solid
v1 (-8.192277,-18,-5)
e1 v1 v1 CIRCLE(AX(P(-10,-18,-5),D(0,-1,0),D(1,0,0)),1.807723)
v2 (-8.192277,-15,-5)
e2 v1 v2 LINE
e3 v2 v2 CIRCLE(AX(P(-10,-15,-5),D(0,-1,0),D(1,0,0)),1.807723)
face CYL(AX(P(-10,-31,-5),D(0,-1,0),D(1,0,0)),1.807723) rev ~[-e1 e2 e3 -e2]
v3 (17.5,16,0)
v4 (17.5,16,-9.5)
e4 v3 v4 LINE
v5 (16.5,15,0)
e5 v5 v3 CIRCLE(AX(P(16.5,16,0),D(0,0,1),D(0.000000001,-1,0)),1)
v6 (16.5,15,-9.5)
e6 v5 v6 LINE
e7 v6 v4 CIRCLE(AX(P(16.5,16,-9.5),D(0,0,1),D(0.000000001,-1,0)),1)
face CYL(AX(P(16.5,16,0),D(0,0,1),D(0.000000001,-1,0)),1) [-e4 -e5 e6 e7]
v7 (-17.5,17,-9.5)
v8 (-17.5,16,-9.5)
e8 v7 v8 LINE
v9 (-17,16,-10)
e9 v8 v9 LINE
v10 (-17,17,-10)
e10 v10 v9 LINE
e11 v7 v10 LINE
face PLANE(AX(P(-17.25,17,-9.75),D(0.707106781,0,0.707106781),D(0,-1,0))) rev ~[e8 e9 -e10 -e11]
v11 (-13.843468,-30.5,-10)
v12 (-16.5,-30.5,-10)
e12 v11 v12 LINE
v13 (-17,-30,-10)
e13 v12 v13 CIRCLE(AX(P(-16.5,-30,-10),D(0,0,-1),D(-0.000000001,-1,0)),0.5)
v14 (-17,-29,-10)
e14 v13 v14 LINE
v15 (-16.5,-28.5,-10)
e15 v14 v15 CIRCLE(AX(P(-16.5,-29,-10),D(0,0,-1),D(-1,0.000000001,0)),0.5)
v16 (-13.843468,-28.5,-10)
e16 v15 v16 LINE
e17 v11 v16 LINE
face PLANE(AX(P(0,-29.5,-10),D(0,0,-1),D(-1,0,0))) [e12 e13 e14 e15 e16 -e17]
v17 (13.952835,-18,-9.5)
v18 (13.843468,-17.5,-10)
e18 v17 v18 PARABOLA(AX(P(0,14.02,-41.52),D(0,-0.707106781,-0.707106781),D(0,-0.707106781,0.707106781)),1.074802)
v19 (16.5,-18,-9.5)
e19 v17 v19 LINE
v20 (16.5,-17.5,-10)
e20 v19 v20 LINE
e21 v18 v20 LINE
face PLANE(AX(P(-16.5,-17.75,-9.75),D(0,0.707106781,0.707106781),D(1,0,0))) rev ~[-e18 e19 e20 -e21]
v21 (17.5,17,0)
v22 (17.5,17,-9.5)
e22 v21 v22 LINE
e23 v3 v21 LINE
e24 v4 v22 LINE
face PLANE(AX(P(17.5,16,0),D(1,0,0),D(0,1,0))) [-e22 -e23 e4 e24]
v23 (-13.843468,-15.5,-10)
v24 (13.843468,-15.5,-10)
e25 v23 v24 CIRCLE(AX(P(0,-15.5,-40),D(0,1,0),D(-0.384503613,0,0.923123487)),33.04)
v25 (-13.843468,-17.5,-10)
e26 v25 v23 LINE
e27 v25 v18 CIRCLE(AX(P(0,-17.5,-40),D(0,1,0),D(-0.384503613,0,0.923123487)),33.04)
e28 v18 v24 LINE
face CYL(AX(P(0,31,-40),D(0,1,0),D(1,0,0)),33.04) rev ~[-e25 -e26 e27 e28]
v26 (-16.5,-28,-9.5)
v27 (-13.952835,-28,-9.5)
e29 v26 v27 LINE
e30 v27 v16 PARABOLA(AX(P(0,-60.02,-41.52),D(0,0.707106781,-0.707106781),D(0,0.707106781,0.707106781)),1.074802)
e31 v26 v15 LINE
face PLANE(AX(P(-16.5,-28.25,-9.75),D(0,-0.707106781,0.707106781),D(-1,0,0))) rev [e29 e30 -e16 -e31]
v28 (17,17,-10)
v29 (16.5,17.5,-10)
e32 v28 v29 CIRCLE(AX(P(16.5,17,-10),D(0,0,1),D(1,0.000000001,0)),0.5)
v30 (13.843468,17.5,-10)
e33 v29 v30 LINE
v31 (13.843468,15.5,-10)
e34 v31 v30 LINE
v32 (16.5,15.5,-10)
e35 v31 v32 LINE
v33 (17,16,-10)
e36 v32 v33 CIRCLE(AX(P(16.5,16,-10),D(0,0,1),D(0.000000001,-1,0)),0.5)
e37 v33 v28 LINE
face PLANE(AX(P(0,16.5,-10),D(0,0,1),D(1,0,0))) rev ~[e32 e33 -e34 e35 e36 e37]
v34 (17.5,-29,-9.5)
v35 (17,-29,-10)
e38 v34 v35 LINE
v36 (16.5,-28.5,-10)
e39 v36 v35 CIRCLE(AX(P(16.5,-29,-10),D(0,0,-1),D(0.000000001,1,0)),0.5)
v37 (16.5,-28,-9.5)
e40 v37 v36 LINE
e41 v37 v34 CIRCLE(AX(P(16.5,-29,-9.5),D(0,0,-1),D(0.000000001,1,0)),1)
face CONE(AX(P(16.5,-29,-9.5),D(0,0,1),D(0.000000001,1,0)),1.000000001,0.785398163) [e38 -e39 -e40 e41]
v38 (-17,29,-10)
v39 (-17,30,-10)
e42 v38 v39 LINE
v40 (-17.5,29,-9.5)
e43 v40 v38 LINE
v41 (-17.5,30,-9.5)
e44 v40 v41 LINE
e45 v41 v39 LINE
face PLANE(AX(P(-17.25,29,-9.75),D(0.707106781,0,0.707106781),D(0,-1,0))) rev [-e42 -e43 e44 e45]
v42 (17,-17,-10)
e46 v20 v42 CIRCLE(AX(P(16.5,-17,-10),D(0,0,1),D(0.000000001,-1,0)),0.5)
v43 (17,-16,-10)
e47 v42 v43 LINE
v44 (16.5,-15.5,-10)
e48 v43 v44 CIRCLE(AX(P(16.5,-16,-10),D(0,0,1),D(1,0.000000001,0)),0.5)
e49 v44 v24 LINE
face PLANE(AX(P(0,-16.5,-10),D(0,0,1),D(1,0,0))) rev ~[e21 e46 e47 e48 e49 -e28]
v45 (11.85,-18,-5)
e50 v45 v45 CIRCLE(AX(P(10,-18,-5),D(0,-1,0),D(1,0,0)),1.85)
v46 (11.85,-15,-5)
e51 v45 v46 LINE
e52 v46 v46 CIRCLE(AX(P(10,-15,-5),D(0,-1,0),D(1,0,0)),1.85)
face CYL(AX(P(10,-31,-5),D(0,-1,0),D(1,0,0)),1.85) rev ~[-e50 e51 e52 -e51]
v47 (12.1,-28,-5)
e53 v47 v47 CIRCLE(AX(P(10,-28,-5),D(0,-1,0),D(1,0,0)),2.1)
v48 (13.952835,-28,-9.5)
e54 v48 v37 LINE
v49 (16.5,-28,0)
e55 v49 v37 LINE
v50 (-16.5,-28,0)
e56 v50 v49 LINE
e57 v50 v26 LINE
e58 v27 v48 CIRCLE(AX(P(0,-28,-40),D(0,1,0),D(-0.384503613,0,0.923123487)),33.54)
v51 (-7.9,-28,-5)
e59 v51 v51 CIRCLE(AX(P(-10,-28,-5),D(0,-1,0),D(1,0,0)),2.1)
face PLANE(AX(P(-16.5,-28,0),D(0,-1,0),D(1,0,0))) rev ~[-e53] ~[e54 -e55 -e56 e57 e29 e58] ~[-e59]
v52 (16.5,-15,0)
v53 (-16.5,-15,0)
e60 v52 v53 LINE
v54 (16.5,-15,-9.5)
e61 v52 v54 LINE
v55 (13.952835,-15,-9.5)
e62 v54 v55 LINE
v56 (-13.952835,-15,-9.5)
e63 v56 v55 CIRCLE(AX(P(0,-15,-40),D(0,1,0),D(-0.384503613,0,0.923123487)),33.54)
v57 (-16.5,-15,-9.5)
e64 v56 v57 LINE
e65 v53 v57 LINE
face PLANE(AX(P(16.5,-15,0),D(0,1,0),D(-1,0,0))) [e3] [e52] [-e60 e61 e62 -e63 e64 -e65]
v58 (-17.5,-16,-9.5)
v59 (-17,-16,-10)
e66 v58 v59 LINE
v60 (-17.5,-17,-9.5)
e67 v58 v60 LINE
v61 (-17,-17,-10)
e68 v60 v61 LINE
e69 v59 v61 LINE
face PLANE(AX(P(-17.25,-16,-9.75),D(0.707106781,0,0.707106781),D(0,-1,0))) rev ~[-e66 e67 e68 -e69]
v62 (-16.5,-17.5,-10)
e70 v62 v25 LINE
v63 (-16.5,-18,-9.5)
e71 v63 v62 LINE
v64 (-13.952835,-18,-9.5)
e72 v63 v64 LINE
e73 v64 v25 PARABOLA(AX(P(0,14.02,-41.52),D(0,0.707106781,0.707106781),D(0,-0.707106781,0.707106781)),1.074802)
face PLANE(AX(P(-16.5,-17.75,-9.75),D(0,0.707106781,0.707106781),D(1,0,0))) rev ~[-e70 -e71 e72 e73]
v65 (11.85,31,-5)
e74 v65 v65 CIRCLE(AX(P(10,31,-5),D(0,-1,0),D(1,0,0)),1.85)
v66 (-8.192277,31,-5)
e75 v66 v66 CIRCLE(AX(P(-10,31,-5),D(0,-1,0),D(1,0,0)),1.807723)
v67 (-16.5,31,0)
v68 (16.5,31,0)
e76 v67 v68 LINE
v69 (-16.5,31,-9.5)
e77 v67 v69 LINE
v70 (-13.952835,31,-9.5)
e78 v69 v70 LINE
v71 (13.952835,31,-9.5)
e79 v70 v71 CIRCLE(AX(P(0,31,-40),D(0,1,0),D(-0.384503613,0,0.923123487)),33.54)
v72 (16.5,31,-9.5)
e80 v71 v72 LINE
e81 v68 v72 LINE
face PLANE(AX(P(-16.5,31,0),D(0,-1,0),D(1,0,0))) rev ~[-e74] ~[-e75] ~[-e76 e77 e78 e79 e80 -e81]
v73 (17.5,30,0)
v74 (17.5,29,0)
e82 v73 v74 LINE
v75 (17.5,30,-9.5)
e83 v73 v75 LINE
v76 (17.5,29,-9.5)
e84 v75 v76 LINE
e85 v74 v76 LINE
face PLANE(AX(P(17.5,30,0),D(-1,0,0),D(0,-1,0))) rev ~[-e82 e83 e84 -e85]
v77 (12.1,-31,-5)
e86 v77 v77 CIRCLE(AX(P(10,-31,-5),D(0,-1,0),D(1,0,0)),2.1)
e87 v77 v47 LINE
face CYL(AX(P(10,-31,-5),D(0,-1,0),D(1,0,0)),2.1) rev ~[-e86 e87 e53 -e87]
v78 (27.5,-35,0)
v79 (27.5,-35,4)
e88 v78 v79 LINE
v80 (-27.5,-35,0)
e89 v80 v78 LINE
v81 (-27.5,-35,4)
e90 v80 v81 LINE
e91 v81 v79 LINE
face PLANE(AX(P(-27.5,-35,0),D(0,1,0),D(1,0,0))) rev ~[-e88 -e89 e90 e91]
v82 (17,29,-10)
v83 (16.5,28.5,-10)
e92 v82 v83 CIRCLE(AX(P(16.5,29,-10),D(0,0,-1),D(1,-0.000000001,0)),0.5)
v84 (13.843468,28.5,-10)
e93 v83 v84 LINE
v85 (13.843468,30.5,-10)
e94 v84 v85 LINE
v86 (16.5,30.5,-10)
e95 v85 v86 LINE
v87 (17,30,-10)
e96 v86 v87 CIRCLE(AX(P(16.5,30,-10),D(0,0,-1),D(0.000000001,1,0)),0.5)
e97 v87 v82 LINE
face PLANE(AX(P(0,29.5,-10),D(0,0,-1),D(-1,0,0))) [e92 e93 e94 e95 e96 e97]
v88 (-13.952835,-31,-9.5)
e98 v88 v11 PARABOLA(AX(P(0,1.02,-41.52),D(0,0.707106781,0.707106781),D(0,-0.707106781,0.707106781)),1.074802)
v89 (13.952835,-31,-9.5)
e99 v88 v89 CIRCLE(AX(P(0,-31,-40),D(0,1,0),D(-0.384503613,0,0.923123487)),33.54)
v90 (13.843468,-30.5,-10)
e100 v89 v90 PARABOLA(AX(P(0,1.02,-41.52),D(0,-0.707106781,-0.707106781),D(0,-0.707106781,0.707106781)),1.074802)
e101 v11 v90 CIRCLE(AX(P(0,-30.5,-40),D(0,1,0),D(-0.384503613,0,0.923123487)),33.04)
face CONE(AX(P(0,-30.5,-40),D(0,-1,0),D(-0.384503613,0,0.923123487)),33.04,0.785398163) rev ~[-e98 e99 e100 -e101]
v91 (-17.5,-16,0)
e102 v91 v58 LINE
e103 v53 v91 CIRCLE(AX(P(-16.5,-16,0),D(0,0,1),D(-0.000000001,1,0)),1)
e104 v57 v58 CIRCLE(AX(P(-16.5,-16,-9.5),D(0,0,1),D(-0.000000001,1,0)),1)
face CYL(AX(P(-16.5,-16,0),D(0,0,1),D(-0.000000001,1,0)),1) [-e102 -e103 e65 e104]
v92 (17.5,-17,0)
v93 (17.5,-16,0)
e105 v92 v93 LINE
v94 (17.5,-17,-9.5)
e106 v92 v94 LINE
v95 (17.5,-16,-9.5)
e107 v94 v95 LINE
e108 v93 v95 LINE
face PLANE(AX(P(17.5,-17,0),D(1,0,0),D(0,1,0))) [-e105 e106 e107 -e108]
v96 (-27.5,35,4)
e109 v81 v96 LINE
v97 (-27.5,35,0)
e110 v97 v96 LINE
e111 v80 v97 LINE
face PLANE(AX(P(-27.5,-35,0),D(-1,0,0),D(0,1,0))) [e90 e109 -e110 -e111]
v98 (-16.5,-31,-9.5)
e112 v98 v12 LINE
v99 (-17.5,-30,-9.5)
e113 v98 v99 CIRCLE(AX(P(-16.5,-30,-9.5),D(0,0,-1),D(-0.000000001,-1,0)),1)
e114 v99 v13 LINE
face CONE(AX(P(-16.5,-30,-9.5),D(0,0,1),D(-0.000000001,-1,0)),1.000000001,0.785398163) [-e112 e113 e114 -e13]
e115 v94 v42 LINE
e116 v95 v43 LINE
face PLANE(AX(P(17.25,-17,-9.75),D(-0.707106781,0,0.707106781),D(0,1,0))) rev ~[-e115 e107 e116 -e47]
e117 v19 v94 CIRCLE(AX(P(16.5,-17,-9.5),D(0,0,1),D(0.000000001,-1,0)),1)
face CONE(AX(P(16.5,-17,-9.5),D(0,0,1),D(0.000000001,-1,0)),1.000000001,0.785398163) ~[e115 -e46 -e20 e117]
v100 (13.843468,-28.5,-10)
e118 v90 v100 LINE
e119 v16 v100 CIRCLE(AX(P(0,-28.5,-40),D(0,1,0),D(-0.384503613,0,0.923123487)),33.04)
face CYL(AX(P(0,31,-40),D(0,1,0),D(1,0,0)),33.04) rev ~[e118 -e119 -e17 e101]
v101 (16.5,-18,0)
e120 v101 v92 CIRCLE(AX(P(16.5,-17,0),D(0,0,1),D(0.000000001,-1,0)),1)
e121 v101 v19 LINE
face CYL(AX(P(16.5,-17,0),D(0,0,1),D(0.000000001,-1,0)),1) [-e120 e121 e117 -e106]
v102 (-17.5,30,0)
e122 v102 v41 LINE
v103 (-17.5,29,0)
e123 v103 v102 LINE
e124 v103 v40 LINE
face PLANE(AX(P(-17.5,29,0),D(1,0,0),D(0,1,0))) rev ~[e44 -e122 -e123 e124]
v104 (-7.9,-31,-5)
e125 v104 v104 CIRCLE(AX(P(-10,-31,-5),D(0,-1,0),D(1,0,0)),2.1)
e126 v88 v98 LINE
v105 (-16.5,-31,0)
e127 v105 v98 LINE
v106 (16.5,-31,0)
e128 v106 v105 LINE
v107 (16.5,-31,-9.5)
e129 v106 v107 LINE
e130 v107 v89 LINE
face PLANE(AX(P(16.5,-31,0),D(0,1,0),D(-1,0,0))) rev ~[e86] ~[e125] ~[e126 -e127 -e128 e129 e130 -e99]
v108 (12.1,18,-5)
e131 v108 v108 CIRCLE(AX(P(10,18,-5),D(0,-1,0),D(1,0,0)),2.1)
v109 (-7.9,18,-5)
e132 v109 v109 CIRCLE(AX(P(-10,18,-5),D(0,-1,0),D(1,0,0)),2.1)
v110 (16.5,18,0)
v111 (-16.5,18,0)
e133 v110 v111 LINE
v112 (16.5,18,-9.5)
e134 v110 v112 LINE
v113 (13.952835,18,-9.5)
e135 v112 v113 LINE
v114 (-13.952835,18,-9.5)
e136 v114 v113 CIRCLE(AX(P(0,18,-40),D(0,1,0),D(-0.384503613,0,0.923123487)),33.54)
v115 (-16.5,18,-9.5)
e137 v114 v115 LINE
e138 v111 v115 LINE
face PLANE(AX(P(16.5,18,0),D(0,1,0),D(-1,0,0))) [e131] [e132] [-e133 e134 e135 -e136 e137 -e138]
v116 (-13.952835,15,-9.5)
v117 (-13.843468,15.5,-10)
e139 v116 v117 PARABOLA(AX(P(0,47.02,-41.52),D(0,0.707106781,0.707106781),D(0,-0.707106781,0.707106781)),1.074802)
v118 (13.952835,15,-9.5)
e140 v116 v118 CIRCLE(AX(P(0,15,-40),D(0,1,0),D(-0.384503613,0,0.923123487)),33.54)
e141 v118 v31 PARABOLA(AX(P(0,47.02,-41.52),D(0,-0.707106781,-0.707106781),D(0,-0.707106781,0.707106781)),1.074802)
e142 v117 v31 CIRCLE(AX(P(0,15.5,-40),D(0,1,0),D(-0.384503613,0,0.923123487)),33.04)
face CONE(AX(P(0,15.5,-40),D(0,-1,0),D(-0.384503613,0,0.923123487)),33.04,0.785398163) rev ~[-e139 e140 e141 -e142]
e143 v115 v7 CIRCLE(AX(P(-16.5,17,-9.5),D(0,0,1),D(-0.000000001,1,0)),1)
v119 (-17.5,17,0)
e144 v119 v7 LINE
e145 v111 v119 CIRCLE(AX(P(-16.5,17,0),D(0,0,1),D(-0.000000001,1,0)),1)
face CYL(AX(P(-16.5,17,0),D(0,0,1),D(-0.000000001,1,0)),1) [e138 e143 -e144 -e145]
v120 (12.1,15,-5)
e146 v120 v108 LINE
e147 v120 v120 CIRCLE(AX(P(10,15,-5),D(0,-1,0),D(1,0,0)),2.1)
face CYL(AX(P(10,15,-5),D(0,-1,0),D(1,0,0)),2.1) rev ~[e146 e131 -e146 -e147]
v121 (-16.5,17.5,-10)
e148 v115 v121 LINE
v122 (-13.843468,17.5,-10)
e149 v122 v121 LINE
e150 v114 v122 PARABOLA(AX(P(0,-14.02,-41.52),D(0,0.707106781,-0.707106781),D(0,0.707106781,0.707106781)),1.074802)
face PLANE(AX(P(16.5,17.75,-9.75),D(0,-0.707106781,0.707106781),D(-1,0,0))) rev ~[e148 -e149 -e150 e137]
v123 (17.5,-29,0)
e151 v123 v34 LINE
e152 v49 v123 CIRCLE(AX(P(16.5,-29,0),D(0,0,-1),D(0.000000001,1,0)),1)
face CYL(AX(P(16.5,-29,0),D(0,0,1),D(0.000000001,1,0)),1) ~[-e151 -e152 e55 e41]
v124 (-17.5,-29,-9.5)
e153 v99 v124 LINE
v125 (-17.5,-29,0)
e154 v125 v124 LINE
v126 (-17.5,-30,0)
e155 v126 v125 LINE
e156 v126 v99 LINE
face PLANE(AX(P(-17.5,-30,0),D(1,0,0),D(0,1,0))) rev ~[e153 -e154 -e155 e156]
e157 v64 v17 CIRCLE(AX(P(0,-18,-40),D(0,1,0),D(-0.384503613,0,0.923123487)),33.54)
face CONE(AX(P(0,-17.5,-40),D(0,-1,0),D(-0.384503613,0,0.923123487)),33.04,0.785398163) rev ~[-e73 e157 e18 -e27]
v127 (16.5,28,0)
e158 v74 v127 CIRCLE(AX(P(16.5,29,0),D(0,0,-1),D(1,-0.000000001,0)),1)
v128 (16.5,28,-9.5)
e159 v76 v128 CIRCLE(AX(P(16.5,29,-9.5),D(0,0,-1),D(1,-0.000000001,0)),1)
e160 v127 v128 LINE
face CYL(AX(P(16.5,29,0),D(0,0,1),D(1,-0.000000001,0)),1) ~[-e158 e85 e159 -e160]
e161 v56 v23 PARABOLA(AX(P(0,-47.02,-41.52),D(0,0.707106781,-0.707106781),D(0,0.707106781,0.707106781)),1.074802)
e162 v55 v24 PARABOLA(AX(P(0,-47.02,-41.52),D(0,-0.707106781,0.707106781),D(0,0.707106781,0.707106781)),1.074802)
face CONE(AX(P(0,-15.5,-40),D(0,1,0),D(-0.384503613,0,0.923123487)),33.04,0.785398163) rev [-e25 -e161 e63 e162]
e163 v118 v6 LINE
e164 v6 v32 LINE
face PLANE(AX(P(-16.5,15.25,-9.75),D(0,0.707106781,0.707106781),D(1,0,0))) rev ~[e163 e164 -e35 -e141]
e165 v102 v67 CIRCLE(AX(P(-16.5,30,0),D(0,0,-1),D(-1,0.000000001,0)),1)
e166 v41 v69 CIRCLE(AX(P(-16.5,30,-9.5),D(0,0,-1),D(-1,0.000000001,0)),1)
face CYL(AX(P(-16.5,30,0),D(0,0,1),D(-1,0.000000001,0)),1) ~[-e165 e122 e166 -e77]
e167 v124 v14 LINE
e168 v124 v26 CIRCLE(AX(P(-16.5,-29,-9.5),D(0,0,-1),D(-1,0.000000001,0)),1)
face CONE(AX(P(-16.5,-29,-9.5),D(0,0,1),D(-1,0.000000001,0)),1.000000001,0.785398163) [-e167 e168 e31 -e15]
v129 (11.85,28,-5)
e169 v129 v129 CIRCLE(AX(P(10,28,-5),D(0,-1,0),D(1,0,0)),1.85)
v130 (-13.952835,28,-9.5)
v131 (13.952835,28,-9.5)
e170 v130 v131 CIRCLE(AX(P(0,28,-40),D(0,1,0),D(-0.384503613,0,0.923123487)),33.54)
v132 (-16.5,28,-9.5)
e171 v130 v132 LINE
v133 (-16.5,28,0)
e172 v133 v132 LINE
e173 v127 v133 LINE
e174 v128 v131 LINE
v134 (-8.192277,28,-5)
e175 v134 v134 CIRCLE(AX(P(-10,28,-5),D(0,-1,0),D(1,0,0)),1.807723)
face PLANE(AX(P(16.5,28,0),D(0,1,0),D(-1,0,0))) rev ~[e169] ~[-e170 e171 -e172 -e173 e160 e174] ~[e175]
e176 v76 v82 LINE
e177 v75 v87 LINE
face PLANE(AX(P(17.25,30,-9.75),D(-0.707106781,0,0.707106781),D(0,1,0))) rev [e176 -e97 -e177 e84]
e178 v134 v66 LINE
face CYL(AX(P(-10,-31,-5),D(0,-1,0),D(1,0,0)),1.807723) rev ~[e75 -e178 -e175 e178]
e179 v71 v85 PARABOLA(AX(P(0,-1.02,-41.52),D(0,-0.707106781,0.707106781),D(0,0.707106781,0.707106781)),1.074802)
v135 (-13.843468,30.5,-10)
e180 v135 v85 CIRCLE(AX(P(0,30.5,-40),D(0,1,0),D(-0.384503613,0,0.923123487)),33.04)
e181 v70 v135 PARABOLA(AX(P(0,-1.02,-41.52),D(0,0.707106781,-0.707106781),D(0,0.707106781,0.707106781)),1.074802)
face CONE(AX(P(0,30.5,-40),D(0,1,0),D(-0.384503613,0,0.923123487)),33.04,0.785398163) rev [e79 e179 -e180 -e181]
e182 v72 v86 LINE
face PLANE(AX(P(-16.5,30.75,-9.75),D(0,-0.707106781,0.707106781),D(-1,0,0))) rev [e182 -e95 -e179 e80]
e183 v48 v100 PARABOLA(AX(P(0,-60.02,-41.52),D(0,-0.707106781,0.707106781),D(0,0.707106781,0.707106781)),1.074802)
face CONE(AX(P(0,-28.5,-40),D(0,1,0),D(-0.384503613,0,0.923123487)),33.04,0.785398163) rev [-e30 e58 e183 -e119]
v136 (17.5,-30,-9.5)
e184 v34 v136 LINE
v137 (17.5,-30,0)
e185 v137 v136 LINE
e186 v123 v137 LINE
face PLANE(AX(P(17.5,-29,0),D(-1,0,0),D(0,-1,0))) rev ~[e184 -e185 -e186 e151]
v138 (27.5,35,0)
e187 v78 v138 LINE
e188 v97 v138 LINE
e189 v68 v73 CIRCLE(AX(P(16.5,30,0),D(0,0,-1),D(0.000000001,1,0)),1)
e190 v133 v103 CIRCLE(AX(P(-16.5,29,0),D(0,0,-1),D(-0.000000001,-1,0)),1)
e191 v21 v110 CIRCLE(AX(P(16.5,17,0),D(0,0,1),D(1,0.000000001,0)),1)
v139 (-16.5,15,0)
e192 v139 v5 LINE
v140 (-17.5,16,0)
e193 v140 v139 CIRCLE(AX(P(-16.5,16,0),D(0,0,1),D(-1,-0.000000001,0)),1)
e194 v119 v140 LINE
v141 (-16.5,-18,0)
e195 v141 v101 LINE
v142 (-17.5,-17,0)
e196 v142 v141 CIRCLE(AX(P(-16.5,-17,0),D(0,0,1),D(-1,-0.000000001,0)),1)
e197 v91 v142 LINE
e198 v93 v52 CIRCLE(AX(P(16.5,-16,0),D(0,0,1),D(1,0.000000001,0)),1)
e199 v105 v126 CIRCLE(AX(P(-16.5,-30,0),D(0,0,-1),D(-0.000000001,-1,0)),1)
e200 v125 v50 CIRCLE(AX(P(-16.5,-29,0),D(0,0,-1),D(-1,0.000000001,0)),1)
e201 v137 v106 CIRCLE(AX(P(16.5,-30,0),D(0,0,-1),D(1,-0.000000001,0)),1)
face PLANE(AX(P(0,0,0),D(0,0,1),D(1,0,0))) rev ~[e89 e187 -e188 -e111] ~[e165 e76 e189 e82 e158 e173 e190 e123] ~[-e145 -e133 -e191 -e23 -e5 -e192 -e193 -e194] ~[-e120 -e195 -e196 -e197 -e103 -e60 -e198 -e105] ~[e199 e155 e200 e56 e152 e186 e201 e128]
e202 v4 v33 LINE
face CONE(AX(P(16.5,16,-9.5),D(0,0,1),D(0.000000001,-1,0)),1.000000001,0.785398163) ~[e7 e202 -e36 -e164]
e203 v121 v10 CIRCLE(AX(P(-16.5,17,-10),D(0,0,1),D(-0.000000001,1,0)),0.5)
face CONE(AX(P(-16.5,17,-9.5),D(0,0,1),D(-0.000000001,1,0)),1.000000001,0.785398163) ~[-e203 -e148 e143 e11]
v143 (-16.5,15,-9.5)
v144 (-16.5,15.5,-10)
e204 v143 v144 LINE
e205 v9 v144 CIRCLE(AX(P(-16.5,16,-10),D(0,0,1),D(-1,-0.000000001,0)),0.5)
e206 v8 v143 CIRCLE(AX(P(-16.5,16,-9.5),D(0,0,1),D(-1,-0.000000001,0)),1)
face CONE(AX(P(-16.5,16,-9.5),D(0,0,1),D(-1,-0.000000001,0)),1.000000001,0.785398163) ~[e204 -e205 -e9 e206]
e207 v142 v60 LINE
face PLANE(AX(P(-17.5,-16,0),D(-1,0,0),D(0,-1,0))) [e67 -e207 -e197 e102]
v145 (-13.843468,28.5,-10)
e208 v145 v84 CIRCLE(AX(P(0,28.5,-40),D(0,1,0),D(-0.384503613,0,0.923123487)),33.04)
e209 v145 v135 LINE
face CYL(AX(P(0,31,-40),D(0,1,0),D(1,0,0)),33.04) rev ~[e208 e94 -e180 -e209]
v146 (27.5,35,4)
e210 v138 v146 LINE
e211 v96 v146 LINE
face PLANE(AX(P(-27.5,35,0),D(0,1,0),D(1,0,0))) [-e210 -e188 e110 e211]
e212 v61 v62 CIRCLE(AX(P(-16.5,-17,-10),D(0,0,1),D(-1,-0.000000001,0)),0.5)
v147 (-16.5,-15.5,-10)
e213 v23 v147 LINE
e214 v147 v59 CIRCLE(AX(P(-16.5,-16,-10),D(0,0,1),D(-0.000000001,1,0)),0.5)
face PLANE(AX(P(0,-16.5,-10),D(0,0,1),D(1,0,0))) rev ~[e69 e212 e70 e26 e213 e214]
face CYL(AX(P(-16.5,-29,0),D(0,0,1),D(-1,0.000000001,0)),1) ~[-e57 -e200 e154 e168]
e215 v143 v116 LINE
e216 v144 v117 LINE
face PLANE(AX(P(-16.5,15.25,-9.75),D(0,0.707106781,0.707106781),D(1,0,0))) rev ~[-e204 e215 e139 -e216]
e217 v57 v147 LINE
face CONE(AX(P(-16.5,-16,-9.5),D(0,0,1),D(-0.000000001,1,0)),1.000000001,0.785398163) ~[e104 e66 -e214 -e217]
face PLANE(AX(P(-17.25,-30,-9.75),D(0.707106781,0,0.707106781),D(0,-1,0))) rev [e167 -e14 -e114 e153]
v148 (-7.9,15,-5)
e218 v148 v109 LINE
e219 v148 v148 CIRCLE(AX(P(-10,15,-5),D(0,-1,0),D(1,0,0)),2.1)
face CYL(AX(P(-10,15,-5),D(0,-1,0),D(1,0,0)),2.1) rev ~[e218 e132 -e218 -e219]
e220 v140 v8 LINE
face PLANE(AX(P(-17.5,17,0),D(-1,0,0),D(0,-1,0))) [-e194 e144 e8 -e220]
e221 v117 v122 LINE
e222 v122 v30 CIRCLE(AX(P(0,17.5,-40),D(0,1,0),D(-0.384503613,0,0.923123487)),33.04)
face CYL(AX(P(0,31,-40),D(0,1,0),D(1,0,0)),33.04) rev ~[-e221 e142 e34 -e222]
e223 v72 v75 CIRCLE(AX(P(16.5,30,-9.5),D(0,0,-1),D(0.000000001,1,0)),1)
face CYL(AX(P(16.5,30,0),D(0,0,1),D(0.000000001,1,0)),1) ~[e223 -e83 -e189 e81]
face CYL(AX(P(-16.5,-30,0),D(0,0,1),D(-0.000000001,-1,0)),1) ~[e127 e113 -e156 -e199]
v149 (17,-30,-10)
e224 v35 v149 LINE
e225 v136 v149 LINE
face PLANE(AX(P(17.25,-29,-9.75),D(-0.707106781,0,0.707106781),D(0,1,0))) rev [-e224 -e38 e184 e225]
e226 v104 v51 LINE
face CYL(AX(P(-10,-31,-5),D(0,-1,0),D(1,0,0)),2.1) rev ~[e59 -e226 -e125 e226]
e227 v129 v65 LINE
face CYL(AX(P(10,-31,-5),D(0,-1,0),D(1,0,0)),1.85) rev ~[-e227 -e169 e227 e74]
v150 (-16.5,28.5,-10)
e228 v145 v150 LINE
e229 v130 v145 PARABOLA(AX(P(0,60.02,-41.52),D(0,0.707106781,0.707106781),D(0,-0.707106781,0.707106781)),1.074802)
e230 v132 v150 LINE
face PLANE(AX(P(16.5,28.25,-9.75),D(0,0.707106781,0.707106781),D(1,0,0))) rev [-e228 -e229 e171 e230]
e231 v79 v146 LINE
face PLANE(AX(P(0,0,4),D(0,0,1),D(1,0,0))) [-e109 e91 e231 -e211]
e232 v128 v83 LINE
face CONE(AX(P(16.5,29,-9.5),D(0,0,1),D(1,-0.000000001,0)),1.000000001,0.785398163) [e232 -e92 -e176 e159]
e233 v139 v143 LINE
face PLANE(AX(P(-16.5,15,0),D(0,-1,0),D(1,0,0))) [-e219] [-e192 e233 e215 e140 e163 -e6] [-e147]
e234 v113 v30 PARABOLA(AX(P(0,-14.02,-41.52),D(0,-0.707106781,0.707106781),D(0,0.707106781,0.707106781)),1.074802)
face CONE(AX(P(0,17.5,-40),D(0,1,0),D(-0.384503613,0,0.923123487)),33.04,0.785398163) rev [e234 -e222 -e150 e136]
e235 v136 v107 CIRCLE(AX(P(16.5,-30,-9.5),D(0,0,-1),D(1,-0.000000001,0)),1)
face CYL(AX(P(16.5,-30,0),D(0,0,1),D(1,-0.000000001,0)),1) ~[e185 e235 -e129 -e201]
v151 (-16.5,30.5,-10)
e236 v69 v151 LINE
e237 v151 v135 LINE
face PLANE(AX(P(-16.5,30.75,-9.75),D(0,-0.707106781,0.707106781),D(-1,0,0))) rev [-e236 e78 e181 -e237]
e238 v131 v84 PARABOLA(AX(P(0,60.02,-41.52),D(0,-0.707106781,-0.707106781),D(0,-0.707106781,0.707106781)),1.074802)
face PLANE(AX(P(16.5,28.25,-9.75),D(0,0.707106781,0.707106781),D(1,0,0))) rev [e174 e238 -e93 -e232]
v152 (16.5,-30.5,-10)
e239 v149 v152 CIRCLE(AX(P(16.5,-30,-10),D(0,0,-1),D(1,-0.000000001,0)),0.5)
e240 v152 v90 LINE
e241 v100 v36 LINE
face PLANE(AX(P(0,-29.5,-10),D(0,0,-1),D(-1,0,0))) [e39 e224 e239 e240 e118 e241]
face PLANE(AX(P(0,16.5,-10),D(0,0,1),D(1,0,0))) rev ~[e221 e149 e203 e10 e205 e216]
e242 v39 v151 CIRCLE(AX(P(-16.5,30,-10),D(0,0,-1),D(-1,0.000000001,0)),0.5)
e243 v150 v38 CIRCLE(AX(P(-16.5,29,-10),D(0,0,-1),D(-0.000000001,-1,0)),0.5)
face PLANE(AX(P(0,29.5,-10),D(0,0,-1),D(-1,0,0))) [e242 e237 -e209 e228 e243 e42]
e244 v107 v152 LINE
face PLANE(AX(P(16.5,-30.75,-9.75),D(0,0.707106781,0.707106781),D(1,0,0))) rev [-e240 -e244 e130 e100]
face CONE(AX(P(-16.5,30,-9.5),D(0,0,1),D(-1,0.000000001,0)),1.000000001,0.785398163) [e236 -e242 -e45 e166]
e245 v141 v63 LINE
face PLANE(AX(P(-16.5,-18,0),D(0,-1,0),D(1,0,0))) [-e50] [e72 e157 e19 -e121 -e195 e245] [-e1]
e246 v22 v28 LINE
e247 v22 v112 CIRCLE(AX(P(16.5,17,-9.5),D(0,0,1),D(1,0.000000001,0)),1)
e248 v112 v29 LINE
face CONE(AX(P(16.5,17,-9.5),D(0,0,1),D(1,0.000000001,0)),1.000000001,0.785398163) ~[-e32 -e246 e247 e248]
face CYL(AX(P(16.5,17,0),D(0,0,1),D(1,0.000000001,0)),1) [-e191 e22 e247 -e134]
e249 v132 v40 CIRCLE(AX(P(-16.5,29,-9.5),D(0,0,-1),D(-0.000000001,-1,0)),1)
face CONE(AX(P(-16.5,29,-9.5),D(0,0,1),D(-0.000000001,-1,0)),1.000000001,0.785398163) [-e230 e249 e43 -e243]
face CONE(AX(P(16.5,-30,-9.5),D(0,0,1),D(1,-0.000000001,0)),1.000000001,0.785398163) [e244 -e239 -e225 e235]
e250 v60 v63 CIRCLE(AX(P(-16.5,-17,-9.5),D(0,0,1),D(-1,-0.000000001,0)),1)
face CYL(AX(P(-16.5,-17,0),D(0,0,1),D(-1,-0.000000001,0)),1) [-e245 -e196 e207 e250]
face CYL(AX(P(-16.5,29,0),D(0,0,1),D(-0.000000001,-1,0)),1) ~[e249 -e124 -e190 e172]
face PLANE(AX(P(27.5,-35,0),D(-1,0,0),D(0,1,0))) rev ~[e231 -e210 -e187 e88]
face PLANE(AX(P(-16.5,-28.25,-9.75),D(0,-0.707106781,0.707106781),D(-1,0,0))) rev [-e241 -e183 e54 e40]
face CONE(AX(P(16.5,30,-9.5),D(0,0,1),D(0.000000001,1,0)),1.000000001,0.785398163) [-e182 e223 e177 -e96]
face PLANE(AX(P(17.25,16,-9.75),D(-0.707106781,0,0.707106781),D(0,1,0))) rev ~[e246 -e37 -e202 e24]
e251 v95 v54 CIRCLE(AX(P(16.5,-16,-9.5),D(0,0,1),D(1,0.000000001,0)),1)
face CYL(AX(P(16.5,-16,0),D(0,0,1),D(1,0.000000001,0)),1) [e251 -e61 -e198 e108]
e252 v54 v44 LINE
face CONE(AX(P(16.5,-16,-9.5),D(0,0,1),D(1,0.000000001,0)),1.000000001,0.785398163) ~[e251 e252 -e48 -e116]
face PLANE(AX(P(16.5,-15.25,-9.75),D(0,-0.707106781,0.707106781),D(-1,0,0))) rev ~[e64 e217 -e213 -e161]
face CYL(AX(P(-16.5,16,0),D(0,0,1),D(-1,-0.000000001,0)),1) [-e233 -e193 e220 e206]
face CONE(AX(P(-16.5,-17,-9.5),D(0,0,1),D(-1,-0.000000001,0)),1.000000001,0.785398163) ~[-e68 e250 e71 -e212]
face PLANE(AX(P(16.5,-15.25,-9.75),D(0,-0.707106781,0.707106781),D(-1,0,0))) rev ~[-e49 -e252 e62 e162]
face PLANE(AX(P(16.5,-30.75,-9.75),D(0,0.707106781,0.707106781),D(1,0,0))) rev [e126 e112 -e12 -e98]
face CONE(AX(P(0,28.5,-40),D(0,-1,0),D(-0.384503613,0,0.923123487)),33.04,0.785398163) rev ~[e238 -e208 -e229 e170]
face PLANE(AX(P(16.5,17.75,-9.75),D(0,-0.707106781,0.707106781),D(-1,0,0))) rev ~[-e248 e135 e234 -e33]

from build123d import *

# Parameters (mm, degrees)
SKETCH1_W               = 55
SKETCH1_H               = 70
BOSS_EXTRUDE1_DEPTH     = 4
BOSS_EXTRUDE2_DEPTH     = 10
SKETCH3_R               = 1.807722862
SKETCH3_R_2             = 1.85
CUT_EXTRUDE1_DEPTH      = 5
CUT_EXTRUDE1_DEPTH_BACK = 67
SKETCH4_R               = 2.1
CUT_EXTRUDE2_DEPTH      = 5
CUT_EXTRUDE2_DEPTH_BACK = 3
CUT_EXTRUDE3_START      = -46
SKETCH4_2_R             = 2.1
CUT_EXTRUDE3_DEPTH      = 3
CHAMFER1_SIZE           = 0.5
SKETCH5_R               = 33.04
CUT_EXTRUDE4_DEPTH      = 62
CHAMFER2_SIZE           = 0.5


with BuildPart() as part:
    # Sketch1 → Boss-Extrude1 (new body)
    with BuildSketch(Plane.XY):
        Rectangle(SKETCH1_W, SKETCH1_H)
    extrude(amount=BOSS_EXTRUDE1_DEPTH)

    # Sketch2 → Boss-Extrude2 (add)
    with BuildSketch(Plane(origin=(0, 0, 0), x_dir=(-1, 0, 0), z_dir=(0, 0, -1))):
        with BuildLine():
            Line((-16.5, 28), (16.5, 28))
            ThreePointArc((16.5, 28), (17.207106781, 28.292893219), (17.5, 29))
            Line((17.5, 29), (17.5, 30))
            ThreePointArc((17.5, 30), (17.207106781, 30.707106781), (16.5, 31))
            Line((16.5, 31), (-16.5, 31))
            ThreePointArc((-16.5, 31), (-17.207106781, 30.707106781), (-17.5, 30))
            Line((-17.5, 30), (-17.5, 29))
            ThreePointArc((-17.5, 29), (-17.207106781, 28.292893219), (-16.5, 28))
        make_face()
        with BuildLine():
            Line((-16.5, 18), (16.5, 18))
            ThreePointArc((16.5, 18), (17.207106781, 17.707106781), (17.5, 17))
            Line((17.5, 17), (17.5, 16))
            ThreePointArc((17.5, 16), (17.207106781, 15.292893219), (16.5, 15))
            Line((16.5, 15), (-16.5, 15))
            ThreePointArc((-16.5, 15), (-17.207106781, 15.292893219), (-17.5, 16))
            Line((-17.5, 16), (-17.5, 17))
            ThreePointArc((-17.5, 17), (-17.207106781, 17.707106781), (-16.5, 18))
        make_face()
        with BuildLine():
            Line((-16.5, -31), (16.5, -31))
            ThreePointArc((16.5, -31), (17.207106781, -30.707106781), (17.5, -30))
            Line((17.5, -30), (17.5, -29))
            ThreePointArc((17.5, -29), (17.207106781, -28.292893219), (16.5, -28))
            Line((16.5, -28), (-16.5, -28))
            ThreePointArc((-16.5, -28), (-17.207106781, -28.292893219), (-17.5, -29))
            Line((-17.5, -29), (-17.5, -30))
            ThreePointArc((-17.5, -30), (-17.207106781, -30.707106781), (-16.5, -31))
        make_face()
        with BuildLine():
            Line((-16.5, -15), (16.5, -15))
            ThreePointArc((16.5, -15), (17.207106781, -15.292893219), (17.5, -16))
            Line((17.5, -16), (17.5, -17))
            ThreePointArc((17.5, -17), (17.207106781, -17.707106781), (16.5, -18))
            Line((16.5, -18), (-16.5, -18))
            ThreePointArc((-16.5, -18), (-17.207106781, -17.707106781), (-17.5, -17))
            Line((-17.5, -17), (-17.5, -16))
            ThreePointArc((-17.5, -16), (-17.207106781, -15.292893219), (-16.5, -15))
        make_face()
    extrude(amount=BOSS_EXTRUDE2_DEPTH)

    # Sketch3 → Cut-Extrude1 (cut, two sides)
    with BuildSketch(Plane.XZ.offset(31)) as cut_extrude1_sk:
        with Locations((-10, -5)):
            Circle(SKETCH3_R)
        with Locations((10, -5)):
            Circle(SKETCH3_R_2)
    extrude(amount=CUT_EXTRUDE1_DEPTH, mode=Mode.SUBTRACT)
    extrude(cut_extrude1_sk.sketch, amount=-CUT_EXTRUDE1_DEPTH_BACK, mode=Mode.SUBTRACT)

    # Sketch4 → Cut-Extrude2 (cut, two sides)
    with BuildSketch(Plane.XZ.offset(31)) as cut_extrude2_sk:
        with Locations((10, -5)):
            Circle(SKETCH4_R)
        with Locations((-10, -5)):
            Circle(SKETCH4_R)
    extrude(amount=CUT_EXTRUDE2_DEPTH, mode=Mode.SUBTRACT)
    extrude(cut_extrude2_sk.sketch, amount=-CUT_EXTRUDE2_DEPTH_BACK, mode=Mode.SUBTRACT)

    # Sketch4<2> → Cut-Extrude3 (cut)
    with BuildSketch(Plane.XZ.offset(31).offset(CUT_EXTRUDE3_START)):
        with Locations((10, -5)):
            Circle(SKETCH4_2_R)
        with Locations((-10, -5)):
            Circle(SKETCH4_2_R)
    extrude(amount=-CUT_EXTRUDE3_DEPTH, mode=Mode.SUBTRACT)

    # Chamfer1
    chamfer1_edges = [part.edges().sort_by_distance(p)[0] for p in [
        (17.207106781, 17.707106781, -10),
        (17.5, 16.5, -10),
        (17.207106781, 15.292893219, -10),
        (0, 15, -10),
        (-17.207106781, 15.292893219, -10),
        (-17.5, 16.5, -10),
        (-17.207106781, 17.707106781, -10),
        (0, 18, -10),
        (-17.207106781, 30.707106781, -10),
        (0, 31, -10),
        (17.207106781, 30.707106781, -10),
        (17.5, 29.5, -10),
        (17.207106781, 28.292893219, -10),
        (0, 28, -10),
        (-17.207106781, 28.292893219, -10),
        (-17.5, 29.5, -10),
        (-17.207106781, -30.707106781, -10),
        (-17.5, -29.5, -10),
        (-17.207106781, -28.292893219, -10),
        (0, -28, -10),
        (17.207106781, -28.292893219, -10),
        (17.5, -29.5, -10),
        (17.207106781, -30.707106781, -10),
        (0, -31, -10),
        (-17.207106781, -15.292893219, -10),
        (0, -15, -10),
        (17.207106781, -15.292893219, -10),
        (17.5, -16.5, -10),
        (17.207106781, -17.707106781, -10),
        (0, -18, -10),
        (-17.207106781, -17.707106781, -10),
        (-17.5, -16.5, -10),
    ]]
    chamfer(chamfer1_edges, length=CHAMFER1_SIZE)

    # Sketch5 → Cut-Extrude4 (cut)
    with BuildSketch(Plane(origin=(0, 31, 0), x_dir=(1, 0, 0), z_dir=(0, 1, 0))):
        with Locations((0, 40)):
            Circle(SKETCH5_R)
    extrude(amount=-CUT_EXTRUDE4_DEPTH, mode=Mode.SUBTRACT)

    # Chamfer2
    chamfer2_edges = [part.edges().sort_by_distance(p)[0] for p in [
        (0, -31, -6.96),
        (0, -28, -6.96),
        (0, -18, -6.96),
        (0, -15, -6.96),
        (0, 15, -6.96),
        (0, 18, -6.96),
        (0, 28, -6.96),
        (0, 31, -6.96),
    ]]
    chamfer(chamfer2_edges, length=CHAMFER2_SIZE)


solid = part.part
